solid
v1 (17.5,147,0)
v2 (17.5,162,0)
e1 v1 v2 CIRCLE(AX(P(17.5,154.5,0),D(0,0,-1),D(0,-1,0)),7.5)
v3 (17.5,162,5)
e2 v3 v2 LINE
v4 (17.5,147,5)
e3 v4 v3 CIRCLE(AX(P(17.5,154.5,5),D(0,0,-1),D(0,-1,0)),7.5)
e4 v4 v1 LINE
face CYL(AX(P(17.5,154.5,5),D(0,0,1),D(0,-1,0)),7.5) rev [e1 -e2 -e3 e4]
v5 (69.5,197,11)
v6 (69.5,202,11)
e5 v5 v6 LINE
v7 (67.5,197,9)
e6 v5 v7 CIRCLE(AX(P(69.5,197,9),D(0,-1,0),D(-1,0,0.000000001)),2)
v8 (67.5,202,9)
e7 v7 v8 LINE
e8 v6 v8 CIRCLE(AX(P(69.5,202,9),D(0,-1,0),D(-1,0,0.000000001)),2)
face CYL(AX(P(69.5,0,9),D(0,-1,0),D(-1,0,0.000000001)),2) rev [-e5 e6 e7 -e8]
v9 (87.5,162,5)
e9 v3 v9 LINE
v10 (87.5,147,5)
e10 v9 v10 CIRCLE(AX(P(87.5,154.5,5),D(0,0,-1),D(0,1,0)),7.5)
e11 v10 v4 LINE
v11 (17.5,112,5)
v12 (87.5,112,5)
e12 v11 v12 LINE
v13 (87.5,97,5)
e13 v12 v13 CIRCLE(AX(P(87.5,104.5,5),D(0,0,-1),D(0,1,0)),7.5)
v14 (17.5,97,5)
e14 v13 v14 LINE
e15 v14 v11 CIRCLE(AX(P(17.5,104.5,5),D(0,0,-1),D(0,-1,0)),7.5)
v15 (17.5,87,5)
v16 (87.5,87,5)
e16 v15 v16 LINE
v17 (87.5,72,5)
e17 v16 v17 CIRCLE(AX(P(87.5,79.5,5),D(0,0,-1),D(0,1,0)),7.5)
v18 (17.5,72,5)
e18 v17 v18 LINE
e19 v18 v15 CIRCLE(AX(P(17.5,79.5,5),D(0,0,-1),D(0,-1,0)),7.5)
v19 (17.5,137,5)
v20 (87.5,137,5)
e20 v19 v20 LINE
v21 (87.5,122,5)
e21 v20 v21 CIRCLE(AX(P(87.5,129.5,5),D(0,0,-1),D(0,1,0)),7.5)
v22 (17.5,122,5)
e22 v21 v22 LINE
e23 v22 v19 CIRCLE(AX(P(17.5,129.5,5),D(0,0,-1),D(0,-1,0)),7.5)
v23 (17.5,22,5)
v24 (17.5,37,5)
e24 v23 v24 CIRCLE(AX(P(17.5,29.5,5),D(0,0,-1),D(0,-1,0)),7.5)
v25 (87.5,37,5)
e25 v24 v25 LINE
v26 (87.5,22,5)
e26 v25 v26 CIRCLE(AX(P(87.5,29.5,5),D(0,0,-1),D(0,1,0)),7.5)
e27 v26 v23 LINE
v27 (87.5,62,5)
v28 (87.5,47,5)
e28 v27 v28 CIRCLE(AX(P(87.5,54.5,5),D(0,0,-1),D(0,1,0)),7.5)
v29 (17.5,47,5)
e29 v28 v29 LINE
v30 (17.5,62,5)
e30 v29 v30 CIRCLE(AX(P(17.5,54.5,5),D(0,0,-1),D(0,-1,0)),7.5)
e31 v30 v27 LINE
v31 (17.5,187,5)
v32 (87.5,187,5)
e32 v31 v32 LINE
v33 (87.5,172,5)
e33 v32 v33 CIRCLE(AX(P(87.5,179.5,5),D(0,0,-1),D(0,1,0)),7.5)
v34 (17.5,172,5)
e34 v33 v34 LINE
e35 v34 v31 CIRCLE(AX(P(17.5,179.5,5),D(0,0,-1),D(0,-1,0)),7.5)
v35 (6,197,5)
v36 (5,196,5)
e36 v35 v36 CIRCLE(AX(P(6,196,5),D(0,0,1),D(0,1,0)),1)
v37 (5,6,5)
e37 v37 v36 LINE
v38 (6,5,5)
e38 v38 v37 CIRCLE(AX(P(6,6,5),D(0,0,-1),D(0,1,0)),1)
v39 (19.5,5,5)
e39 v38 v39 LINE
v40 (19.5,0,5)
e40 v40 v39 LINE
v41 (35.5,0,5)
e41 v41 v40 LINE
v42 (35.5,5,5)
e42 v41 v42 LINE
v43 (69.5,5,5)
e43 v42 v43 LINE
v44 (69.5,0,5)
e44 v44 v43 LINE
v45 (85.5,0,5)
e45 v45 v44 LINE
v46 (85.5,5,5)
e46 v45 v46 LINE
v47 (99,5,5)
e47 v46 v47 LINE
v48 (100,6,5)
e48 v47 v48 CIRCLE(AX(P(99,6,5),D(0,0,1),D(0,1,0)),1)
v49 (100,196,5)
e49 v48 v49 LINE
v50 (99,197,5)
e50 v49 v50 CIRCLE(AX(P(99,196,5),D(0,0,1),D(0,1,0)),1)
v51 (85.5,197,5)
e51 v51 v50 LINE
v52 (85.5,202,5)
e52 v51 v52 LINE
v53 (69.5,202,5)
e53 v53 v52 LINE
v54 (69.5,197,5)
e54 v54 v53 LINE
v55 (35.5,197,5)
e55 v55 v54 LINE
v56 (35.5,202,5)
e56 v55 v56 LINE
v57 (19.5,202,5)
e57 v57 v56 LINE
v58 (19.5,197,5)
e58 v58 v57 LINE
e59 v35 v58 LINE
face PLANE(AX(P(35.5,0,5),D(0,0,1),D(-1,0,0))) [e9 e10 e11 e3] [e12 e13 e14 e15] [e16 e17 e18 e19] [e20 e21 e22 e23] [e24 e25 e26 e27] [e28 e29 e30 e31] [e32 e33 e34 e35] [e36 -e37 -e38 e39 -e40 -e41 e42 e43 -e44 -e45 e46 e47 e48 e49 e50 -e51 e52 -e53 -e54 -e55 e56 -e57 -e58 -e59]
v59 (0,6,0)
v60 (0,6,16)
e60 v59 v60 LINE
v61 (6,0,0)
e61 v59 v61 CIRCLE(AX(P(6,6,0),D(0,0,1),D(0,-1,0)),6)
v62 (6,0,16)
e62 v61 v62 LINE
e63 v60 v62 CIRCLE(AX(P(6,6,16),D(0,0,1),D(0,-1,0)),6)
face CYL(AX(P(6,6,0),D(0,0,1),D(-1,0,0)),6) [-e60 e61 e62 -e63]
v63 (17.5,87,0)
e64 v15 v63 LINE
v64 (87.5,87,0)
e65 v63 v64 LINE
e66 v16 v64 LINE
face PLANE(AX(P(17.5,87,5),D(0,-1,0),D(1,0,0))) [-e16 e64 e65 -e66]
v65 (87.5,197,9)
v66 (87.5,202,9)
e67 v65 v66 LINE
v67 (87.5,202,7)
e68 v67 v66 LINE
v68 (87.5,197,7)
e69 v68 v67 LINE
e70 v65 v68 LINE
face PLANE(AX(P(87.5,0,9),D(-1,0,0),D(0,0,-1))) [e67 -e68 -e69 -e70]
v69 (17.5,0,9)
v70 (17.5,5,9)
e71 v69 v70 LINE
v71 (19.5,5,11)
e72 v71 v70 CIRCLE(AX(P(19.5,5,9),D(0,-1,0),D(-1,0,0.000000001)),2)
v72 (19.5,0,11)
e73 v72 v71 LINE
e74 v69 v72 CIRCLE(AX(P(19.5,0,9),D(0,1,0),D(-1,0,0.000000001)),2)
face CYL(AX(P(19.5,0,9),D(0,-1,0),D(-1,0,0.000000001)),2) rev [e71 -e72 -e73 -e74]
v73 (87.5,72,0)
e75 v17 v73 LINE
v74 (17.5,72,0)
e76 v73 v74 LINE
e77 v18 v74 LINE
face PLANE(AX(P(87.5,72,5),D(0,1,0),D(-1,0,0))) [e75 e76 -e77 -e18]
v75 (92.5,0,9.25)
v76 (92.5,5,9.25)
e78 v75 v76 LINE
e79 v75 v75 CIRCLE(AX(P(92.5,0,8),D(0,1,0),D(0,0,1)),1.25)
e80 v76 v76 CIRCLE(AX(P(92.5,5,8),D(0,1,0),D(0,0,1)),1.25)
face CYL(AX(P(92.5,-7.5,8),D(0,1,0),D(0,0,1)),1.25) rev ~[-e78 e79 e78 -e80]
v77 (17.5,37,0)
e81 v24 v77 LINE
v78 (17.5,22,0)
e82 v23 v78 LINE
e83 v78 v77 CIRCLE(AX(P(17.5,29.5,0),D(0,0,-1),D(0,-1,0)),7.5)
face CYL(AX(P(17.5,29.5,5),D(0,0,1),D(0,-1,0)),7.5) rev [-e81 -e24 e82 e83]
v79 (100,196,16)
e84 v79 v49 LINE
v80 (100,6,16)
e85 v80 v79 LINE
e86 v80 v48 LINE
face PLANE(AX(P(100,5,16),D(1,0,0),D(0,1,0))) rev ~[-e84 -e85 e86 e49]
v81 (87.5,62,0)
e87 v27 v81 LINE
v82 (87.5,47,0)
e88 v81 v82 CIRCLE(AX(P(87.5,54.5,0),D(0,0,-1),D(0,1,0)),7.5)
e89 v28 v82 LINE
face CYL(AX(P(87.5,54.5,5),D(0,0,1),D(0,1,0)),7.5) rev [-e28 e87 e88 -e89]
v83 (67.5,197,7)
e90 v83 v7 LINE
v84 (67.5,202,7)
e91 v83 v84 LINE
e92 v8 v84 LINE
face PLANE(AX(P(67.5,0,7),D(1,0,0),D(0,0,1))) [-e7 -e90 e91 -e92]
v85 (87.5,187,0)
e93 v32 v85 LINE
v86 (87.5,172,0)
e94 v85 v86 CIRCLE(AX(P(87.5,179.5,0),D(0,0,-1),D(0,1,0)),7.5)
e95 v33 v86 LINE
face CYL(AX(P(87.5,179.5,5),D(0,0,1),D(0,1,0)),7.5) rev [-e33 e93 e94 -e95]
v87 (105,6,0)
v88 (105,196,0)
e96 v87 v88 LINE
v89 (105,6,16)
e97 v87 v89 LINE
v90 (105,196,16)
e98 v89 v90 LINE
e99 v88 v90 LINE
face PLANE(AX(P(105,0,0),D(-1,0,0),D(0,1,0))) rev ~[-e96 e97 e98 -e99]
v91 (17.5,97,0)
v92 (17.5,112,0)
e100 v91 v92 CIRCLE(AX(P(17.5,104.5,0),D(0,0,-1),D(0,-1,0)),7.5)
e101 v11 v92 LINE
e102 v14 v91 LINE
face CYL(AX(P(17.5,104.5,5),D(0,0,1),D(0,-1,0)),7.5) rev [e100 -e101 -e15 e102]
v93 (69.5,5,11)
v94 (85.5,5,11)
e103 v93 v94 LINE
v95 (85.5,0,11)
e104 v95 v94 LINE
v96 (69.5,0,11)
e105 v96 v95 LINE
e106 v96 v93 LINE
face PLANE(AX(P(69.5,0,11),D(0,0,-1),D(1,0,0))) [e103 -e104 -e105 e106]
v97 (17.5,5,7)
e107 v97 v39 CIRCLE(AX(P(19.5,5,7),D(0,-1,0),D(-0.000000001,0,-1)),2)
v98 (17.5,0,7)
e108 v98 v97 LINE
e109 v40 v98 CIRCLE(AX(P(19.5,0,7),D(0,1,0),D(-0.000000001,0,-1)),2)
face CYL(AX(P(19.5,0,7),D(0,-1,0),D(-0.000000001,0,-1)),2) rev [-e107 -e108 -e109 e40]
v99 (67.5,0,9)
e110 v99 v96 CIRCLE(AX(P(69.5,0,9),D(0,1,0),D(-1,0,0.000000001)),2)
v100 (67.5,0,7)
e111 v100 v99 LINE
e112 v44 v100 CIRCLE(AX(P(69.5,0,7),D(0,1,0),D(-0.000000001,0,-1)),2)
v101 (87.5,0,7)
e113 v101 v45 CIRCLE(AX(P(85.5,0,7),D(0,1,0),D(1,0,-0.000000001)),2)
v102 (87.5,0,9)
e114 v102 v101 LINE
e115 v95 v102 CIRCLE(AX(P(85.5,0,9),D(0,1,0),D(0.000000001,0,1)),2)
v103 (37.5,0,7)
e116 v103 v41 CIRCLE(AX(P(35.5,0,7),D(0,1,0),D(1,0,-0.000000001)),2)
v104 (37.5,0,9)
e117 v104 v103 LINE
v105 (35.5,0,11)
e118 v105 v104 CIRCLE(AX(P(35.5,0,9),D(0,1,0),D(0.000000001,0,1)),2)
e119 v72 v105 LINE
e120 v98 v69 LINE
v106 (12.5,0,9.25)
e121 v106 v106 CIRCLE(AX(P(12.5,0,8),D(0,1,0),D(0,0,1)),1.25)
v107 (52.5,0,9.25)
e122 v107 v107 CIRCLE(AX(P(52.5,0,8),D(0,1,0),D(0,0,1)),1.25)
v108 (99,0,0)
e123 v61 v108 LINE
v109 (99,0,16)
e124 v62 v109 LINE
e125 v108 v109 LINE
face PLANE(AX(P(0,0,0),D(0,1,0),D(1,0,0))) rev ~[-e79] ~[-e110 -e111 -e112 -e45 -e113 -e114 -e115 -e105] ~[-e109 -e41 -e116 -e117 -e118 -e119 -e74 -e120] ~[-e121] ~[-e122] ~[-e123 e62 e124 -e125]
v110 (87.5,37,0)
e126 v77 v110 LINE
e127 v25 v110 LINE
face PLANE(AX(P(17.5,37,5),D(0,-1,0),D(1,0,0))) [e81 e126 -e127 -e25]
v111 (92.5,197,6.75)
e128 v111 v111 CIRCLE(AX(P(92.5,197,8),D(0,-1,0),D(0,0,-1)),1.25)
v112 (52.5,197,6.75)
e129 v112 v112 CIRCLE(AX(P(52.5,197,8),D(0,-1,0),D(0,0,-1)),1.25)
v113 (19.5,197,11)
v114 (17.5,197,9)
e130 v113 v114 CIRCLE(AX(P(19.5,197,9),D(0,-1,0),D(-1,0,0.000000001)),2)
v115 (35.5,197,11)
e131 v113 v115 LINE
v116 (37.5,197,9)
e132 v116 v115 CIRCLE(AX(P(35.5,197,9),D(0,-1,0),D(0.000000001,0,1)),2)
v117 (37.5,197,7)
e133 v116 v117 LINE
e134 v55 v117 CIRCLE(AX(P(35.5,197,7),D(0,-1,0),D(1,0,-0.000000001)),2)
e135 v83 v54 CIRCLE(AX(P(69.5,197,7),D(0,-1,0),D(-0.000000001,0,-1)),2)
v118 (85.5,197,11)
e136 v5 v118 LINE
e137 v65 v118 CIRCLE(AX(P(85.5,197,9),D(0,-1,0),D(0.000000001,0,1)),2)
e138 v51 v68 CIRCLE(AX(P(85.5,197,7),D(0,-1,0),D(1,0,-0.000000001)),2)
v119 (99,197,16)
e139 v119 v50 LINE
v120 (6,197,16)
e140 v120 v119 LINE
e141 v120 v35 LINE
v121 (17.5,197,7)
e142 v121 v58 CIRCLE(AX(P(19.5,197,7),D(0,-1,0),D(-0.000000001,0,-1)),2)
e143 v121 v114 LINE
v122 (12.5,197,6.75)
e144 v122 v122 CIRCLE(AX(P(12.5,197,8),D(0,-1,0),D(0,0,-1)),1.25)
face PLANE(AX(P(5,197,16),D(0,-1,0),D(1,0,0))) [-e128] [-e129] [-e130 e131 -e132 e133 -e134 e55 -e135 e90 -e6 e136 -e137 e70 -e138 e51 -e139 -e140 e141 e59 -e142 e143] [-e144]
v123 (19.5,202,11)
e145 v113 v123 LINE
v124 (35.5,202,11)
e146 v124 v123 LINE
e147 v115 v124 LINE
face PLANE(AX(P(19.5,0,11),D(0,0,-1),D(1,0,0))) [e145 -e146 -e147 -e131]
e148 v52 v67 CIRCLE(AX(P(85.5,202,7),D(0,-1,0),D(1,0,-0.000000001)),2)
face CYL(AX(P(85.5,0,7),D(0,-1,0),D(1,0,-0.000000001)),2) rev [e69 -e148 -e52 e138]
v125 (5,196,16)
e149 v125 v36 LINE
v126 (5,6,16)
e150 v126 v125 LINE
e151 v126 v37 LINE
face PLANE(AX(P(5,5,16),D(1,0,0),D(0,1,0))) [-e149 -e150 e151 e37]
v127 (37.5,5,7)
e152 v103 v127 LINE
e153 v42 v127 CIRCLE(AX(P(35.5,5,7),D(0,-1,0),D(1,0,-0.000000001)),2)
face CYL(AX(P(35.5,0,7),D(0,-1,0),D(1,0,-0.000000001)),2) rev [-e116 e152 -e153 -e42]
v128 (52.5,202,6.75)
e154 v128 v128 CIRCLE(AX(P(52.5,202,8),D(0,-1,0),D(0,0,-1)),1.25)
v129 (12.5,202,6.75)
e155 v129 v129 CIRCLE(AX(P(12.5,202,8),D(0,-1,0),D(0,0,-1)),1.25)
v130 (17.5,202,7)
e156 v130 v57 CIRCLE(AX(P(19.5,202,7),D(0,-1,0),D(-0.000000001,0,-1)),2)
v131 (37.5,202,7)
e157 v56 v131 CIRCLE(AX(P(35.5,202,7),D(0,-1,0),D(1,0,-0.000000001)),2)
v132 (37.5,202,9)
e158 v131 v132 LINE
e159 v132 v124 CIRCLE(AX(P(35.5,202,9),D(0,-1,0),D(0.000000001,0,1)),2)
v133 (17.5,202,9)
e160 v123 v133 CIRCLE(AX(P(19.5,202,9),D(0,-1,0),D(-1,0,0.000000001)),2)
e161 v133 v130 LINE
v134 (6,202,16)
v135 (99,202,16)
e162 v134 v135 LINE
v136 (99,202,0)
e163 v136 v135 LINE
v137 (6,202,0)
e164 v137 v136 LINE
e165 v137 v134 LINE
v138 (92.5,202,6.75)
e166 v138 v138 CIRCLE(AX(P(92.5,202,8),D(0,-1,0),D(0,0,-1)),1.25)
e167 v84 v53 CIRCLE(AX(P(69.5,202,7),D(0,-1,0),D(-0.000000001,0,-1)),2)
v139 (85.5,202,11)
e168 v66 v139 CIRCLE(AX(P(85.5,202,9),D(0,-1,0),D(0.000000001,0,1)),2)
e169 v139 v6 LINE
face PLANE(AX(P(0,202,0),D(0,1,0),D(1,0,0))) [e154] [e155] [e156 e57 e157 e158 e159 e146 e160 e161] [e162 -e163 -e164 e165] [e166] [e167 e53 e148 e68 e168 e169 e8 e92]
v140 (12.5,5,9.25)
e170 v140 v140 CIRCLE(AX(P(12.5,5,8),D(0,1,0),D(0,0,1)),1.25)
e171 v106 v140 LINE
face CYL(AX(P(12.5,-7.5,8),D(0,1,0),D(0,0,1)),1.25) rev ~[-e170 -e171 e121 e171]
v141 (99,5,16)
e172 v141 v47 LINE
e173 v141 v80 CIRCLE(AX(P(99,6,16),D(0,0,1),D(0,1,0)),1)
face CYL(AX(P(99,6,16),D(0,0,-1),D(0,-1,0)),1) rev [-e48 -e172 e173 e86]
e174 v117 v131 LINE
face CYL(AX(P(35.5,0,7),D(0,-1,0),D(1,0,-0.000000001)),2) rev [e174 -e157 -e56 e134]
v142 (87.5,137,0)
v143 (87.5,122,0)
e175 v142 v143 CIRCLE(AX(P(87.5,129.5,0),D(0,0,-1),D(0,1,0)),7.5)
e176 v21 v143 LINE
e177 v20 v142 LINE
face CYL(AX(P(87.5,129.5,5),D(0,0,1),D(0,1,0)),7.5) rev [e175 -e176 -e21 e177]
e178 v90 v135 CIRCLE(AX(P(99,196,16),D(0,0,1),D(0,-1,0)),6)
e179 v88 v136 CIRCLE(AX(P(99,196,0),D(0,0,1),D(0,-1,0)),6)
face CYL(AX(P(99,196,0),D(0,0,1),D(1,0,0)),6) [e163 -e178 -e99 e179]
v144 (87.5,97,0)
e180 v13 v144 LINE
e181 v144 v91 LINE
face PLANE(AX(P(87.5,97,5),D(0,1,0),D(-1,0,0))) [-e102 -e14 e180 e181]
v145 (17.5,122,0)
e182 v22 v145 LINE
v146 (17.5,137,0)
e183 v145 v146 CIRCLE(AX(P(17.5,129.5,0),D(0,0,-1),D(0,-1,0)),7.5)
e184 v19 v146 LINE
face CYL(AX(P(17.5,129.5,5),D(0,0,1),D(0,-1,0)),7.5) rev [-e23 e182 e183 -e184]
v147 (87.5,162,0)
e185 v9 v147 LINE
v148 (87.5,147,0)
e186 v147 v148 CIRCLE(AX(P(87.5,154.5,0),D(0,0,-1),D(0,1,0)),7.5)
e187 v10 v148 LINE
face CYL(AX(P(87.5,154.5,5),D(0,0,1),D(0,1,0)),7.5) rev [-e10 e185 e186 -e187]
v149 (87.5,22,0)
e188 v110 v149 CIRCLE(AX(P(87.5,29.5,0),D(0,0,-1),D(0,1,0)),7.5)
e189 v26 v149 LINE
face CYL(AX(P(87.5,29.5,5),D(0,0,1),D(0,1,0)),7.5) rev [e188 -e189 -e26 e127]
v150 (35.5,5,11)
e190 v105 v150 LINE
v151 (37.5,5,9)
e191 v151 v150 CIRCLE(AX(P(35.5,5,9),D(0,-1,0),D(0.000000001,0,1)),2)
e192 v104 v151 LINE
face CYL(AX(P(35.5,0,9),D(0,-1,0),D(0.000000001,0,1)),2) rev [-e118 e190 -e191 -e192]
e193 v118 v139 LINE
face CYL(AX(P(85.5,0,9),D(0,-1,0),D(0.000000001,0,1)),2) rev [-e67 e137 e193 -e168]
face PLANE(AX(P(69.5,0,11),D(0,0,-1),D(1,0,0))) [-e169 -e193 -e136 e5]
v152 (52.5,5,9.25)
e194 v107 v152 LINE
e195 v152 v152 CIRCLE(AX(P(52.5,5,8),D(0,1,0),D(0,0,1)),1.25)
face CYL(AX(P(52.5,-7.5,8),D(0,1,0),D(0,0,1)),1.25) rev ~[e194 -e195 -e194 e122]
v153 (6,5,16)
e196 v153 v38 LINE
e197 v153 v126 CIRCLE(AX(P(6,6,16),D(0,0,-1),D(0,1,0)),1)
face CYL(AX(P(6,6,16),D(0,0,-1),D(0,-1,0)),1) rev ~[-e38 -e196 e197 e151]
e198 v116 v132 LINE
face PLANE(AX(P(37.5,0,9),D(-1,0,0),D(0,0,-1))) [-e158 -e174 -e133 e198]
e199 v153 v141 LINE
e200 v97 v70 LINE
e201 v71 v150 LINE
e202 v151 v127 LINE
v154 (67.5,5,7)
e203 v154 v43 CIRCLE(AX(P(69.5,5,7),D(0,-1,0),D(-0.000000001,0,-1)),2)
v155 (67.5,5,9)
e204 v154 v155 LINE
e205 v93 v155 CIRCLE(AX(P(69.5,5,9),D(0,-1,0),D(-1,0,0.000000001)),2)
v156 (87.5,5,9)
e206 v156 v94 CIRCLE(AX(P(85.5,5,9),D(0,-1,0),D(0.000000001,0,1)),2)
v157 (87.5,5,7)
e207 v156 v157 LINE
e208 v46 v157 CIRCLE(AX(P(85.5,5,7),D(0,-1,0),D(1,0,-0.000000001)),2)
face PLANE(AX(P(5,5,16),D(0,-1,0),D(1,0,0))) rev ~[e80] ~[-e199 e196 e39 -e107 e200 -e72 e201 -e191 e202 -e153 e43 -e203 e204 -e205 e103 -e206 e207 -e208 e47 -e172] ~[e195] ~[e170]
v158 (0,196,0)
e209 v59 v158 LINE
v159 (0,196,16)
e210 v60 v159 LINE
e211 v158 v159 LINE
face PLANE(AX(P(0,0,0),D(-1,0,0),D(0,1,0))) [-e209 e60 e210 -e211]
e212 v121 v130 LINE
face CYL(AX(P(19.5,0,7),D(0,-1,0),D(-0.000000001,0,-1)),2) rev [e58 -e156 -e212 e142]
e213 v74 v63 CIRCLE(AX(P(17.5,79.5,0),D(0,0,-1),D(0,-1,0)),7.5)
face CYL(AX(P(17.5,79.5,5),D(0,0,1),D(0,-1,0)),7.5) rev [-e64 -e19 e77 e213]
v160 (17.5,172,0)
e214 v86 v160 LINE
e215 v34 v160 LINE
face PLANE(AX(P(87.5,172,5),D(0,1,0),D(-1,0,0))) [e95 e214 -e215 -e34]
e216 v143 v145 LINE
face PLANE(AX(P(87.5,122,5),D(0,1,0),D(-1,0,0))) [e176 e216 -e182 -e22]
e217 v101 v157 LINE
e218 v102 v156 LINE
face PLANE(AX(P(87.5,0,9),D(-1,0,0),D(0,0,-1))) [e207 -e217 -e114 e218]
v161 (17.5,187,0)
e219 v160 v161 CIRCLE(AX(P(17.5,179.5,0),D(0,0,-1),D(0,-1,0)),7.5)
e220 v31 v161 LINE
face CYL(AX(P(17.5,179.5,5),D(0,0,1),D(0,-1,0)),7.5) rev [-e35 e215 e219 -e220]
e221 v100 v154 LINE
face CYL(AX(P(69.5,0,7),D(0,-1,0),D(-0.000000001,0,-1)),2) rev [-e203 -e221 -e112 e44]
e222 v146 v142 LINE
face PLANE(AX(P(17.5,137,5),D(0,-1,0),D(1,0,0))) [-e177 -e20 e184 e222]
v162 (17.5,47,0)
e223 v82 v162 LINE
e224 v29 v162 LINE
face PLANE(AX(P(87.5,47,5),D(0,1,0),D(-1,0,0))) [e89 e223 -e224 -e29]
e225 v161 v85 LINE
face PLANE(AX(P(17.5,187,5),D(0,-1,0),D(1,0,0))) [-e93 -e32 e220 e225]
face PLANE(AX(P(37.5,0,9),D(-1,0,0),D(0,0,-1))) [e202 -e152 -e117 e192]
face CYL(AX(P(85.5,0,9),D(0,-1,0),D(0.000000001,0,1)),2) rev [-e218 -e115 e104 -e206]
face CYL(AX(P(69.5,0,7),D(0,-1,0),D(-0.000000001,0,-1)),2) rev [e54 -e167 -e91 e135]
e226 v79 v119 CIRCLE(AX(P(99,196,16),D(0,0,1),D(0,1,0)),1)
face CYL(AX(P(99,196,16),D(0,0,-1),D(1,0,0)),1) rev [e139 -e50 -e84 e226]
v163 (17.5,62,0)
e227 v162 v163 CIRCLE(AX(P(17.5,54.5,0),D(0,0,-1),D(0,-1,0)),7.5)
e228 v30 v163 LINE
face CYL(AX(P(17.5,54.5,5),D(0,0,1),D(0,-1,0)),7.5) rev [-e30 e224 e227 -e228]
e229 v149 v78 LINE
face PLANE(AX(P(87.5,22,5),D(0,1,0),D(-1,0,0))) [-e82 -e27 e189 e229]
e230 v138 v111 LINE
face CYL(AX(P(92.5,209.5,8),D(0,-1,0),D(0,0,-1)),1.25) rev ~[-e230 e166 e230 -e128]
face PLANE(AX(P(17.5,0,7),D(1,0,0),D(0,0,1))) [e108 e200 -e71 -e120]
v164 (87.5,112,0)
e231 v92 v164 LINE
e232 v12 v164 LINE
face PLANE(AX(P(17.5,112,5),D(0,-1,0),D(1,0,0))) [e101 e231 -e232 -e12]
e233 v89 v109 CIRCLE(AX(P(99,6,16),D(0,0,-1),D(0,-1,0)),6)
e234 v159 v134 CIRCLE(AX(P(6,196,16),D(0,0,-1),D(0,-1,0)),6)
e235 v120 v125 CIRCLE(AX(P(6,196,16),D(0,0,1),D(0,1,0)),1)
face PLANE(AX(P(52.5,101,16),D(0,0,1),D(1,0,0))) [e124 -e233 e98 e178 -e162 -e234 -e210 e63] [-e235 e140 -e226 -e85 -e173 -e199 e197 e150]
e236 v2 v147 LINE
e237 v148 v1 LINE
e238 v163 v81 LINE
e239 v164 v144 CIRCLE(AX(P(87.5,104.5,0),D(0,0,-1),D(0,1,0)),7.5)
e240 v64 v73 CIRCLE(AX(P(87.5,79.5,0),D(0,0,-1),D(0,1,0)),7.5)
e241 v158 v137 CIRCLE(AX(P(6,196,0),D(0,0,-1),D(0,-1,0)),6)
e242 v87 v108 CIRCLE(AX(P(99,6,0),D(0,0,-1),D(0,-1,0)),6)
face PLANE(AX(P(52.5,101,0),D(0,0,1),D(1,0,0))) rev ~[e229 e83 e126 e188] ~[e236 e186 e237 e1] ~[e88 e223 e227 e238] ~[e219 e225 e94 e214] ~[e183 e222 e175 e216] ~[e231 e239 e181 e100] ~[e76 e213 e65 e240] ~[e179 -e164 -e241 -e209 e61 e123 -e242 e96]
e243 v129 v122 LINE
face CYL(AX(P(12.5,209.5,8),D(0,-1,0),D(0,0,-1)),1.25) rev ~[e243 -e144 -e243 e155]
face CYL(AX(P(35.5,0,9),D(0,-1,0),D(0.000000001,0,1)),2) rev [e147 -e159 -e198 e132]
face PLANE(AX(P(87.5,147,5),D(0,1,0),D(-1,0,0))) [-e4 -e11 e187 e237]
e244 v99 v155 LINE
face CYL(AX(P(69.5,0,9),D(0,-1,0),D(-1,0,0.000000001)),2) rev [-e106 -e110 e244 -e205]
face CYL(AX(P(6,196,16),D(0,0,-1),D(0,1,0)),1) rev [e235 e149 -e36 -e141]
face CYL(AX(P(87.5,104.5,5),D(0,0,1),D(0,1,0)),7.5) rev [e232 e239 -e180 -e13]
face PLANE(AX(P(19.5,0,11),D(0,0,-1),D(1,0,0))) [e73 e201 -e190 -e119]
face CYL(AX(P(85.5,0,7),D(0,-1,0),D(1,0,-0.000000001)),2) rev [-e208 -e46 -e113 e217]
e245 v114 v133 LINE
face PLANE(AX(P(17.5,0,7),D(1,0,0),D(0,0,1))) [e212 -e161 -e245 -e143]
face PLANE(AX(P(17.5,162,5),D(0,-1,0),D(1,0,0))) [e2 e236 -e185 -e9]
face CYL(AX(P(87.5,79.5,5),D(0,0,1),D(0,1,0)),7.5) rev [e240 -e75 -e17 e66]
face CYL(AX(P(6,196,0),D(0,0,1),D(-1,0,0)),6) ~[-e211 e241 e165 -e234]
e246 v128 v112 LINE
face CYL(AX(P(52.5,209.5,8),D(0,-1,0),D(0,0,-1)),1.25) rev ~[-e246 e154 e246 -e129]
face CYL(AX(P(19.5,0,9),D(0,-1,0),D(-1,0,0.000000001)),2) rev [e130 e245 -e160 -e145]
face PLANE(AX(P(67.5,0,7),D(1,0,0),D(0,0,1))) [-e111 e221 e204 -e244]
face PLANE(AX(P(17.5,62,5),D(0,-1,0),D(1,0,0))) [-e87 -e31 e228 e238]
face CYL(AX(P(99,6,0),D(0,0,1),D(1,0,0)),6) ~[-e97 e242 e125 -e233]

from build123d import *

# Parameters (mm, degrees)
SKETCH1_W             = 105
SKETCH1_H             = 202
BOSS_EXTRUDE1_DEPTH   = 16
SKETCH2_W             = 95
SKETCH2_H             = 192
CUT_EXTRUDE1_DEPTH    = 11
CUT_EXTRUDE2_DEPTH    = 5
LPATTERN1_COUNT       = 7
LPATTERN1_PITCH       = 25
CUT_EXTRUDE4_DEPTH    = 287
FILLET1_R             = 6
FILLET2_R             = 1
M3_TAPPED_HOLE1_D     = 2.5
M3_TAPPED_HOLE1_DEPTH = 7.5
M3_TAPPED_HOLE1_TIP   = 0.751075774
M3_TAPPED_HOLE2_D     = 2.5
M3_TAPPED_HOLE2_DEPTH = 7.5
M3_TAPPED_HOLE2_TIP   = 0.751075774


with BuildPart() as part:
    # Sketch1 → Boss-Extrude1 (new body)
    with BuildSketch(Plane.XY):
        with Locations((52.5, 101)):
            Rectangle(SKETCH1_W, SKETCH1_H)
    extrude(amount=BOSS_EXTRUDE1_DEPTH)

    # Sketch2 → Cut-Extrude1 (cut)
    with BuildSketch(Plane.XY.offset(16)):
        with Locations((52.5, 101)):
            Rectangle(SKETCH2_W, SKETCH2_H)
    extrude(amount=-CUT_EXTRUDE1_DEPTH, mode=Mode.SUBTRACT)

    # Sketch3 → Cut-Extrude2 (cut)
    with BuildSketch(Plane.XY.offset(5)):
        with BuildLine():
            Line((17.5, 187), (87.5, 187))
            ThreePointArc((87.5, 187), (95, 179.5), (87.5, 172))
            Line((87.5, 172), (17.5, 172))
            ThreePointArc((17.5, 172), (10, 179.5), (17.5, 187))
        make_face()
    cut_extrude2 = extrude(amount=-CUT_EXTRUDE2_DEPTH, mode=Mode.SUBTRACT)

    # LPattern1: Cut-Extrude2 ×7
    with Locations(*[(0, -i * LPATTERN1_PITCH, 0) for i in range(1, LPATTERN1_COUNT)]):
        add(cut_extrude2, mode=Mode.SUBTRACT)

    # Sketch5 → Cut-Extrude4 (cut)
    with BuildSketch(Plane.XZ):
        with BuildLine():
            Line((17.5, 7), (17.5, 9))
            ThreePointArc((17.5, 9), (18.085786438, 10.414213562), (19.5, 11))
            Line((19.5, 11), (35.5, 11))
            ThreePointArc((35.5, 11), (36.914213562, 10.414213562), (37.5, 9))
            Line((37.5, 9), (37.5, 7))
            ThreePointArc((37.5, 7), (36.914213562, 5.585786438), (35.5, 5))
            Line((35.5, 5), (19.5, 5))
            ThreePointArc((19.5, 5), (18.085786438, 5.585786438), (17.5, 7))
        make_face()
        with BuildLine():
            Line((87.5, 9), (87.5, 7))
            ThreePointArc((87.5, 7), (86.914213562, 5.585786438), (85.5, 5))
            Line((85.5, 5), (69.5, 5))
            ThreePointArc((69.5, 5), (68.085786438, 5.585786438), (67.5, 7))
            Line((67.5, 7), (67.5, 9))
            ThreePointArc((67.5, 9), (68.085786438, 10.414213562), (69.5, 11))
            Line((69.5, 11), (85.5, 11))
            ThreePointArc((85.5, 11), (86.914213562, 10.414213562), (87.5, 9))
        make_face()
    extrude(amount=-CUT_EXTRUDE4_DEPTH, mode=Mode.SUBTRACT)

    # Fillet1
    fillet1_edges = [part.edges().sort_by_distance(p)[0] for p in [
        (0, 202, 8),
        (105, 202, 8),
        (105, 0, 8),
        (0, 0, 8),
    ]]
    fillet(fillet1_edges, radius=FILLET1_R)

    # Fillet2
    fillet2_edges = [part.edges().sort_by_distance(p)[0] for p in [
        (100, 197, 10.5),
        (5, 197, 10.5),
        (5, 5, 10.5),
        (100, 5, 10.5),
    ]]
    fillet(fillet2_edges, radius=FILLET2_R)

    # M3 Tapped Hole1
    with Locations(Plane(origin=(92.5, 202, 8), x_dir=(0, 0, 1), z_dir=(0, 1, 0))):
        with Locations((0, 0), (0, -40), (0, -80)):
            Hole(M3_TAPPED_HOLE1_D / 2, depth=M3_TAPPED_HOLE1_DEPTH)
            with Locations((0, 0, -(M3_TAPPED_HOLE1_DEPTH + M3_TAPPED_HOLE1_TIP / 2))):  # 118° drill point
                Cone(0, M3_TAPPED_HOLE1_D / 2, M3_TAPPED_HOLE1_TIP, mode=Mode.SUBTRACT)

    # M3 Tapped Hole2
    with Locations(Plane(origin=(12.5, 0, 8), x_dir=(0, 0, -1), z_dir=(0, -1, 0))):
        with Locations((0, 0), (0, 40), (0, 80)):
            Hole(M3_TAPPED_HOLE2_D / 2, depth=M3_TAPPED_HOLE2_DEPTH)
            with Locations((0, 0, -(M3_TAPPED_HOLE2_DEPTH + M3_TAPPED_HOLE2_TIP / 2))):  # 118° drill point
                Cone(0, M3_TAPPED_HOLE2_D / 2, M3_TAPPED_HOLE2_TIP, mode=Mode.SUBTRACT)


solid = part.part
